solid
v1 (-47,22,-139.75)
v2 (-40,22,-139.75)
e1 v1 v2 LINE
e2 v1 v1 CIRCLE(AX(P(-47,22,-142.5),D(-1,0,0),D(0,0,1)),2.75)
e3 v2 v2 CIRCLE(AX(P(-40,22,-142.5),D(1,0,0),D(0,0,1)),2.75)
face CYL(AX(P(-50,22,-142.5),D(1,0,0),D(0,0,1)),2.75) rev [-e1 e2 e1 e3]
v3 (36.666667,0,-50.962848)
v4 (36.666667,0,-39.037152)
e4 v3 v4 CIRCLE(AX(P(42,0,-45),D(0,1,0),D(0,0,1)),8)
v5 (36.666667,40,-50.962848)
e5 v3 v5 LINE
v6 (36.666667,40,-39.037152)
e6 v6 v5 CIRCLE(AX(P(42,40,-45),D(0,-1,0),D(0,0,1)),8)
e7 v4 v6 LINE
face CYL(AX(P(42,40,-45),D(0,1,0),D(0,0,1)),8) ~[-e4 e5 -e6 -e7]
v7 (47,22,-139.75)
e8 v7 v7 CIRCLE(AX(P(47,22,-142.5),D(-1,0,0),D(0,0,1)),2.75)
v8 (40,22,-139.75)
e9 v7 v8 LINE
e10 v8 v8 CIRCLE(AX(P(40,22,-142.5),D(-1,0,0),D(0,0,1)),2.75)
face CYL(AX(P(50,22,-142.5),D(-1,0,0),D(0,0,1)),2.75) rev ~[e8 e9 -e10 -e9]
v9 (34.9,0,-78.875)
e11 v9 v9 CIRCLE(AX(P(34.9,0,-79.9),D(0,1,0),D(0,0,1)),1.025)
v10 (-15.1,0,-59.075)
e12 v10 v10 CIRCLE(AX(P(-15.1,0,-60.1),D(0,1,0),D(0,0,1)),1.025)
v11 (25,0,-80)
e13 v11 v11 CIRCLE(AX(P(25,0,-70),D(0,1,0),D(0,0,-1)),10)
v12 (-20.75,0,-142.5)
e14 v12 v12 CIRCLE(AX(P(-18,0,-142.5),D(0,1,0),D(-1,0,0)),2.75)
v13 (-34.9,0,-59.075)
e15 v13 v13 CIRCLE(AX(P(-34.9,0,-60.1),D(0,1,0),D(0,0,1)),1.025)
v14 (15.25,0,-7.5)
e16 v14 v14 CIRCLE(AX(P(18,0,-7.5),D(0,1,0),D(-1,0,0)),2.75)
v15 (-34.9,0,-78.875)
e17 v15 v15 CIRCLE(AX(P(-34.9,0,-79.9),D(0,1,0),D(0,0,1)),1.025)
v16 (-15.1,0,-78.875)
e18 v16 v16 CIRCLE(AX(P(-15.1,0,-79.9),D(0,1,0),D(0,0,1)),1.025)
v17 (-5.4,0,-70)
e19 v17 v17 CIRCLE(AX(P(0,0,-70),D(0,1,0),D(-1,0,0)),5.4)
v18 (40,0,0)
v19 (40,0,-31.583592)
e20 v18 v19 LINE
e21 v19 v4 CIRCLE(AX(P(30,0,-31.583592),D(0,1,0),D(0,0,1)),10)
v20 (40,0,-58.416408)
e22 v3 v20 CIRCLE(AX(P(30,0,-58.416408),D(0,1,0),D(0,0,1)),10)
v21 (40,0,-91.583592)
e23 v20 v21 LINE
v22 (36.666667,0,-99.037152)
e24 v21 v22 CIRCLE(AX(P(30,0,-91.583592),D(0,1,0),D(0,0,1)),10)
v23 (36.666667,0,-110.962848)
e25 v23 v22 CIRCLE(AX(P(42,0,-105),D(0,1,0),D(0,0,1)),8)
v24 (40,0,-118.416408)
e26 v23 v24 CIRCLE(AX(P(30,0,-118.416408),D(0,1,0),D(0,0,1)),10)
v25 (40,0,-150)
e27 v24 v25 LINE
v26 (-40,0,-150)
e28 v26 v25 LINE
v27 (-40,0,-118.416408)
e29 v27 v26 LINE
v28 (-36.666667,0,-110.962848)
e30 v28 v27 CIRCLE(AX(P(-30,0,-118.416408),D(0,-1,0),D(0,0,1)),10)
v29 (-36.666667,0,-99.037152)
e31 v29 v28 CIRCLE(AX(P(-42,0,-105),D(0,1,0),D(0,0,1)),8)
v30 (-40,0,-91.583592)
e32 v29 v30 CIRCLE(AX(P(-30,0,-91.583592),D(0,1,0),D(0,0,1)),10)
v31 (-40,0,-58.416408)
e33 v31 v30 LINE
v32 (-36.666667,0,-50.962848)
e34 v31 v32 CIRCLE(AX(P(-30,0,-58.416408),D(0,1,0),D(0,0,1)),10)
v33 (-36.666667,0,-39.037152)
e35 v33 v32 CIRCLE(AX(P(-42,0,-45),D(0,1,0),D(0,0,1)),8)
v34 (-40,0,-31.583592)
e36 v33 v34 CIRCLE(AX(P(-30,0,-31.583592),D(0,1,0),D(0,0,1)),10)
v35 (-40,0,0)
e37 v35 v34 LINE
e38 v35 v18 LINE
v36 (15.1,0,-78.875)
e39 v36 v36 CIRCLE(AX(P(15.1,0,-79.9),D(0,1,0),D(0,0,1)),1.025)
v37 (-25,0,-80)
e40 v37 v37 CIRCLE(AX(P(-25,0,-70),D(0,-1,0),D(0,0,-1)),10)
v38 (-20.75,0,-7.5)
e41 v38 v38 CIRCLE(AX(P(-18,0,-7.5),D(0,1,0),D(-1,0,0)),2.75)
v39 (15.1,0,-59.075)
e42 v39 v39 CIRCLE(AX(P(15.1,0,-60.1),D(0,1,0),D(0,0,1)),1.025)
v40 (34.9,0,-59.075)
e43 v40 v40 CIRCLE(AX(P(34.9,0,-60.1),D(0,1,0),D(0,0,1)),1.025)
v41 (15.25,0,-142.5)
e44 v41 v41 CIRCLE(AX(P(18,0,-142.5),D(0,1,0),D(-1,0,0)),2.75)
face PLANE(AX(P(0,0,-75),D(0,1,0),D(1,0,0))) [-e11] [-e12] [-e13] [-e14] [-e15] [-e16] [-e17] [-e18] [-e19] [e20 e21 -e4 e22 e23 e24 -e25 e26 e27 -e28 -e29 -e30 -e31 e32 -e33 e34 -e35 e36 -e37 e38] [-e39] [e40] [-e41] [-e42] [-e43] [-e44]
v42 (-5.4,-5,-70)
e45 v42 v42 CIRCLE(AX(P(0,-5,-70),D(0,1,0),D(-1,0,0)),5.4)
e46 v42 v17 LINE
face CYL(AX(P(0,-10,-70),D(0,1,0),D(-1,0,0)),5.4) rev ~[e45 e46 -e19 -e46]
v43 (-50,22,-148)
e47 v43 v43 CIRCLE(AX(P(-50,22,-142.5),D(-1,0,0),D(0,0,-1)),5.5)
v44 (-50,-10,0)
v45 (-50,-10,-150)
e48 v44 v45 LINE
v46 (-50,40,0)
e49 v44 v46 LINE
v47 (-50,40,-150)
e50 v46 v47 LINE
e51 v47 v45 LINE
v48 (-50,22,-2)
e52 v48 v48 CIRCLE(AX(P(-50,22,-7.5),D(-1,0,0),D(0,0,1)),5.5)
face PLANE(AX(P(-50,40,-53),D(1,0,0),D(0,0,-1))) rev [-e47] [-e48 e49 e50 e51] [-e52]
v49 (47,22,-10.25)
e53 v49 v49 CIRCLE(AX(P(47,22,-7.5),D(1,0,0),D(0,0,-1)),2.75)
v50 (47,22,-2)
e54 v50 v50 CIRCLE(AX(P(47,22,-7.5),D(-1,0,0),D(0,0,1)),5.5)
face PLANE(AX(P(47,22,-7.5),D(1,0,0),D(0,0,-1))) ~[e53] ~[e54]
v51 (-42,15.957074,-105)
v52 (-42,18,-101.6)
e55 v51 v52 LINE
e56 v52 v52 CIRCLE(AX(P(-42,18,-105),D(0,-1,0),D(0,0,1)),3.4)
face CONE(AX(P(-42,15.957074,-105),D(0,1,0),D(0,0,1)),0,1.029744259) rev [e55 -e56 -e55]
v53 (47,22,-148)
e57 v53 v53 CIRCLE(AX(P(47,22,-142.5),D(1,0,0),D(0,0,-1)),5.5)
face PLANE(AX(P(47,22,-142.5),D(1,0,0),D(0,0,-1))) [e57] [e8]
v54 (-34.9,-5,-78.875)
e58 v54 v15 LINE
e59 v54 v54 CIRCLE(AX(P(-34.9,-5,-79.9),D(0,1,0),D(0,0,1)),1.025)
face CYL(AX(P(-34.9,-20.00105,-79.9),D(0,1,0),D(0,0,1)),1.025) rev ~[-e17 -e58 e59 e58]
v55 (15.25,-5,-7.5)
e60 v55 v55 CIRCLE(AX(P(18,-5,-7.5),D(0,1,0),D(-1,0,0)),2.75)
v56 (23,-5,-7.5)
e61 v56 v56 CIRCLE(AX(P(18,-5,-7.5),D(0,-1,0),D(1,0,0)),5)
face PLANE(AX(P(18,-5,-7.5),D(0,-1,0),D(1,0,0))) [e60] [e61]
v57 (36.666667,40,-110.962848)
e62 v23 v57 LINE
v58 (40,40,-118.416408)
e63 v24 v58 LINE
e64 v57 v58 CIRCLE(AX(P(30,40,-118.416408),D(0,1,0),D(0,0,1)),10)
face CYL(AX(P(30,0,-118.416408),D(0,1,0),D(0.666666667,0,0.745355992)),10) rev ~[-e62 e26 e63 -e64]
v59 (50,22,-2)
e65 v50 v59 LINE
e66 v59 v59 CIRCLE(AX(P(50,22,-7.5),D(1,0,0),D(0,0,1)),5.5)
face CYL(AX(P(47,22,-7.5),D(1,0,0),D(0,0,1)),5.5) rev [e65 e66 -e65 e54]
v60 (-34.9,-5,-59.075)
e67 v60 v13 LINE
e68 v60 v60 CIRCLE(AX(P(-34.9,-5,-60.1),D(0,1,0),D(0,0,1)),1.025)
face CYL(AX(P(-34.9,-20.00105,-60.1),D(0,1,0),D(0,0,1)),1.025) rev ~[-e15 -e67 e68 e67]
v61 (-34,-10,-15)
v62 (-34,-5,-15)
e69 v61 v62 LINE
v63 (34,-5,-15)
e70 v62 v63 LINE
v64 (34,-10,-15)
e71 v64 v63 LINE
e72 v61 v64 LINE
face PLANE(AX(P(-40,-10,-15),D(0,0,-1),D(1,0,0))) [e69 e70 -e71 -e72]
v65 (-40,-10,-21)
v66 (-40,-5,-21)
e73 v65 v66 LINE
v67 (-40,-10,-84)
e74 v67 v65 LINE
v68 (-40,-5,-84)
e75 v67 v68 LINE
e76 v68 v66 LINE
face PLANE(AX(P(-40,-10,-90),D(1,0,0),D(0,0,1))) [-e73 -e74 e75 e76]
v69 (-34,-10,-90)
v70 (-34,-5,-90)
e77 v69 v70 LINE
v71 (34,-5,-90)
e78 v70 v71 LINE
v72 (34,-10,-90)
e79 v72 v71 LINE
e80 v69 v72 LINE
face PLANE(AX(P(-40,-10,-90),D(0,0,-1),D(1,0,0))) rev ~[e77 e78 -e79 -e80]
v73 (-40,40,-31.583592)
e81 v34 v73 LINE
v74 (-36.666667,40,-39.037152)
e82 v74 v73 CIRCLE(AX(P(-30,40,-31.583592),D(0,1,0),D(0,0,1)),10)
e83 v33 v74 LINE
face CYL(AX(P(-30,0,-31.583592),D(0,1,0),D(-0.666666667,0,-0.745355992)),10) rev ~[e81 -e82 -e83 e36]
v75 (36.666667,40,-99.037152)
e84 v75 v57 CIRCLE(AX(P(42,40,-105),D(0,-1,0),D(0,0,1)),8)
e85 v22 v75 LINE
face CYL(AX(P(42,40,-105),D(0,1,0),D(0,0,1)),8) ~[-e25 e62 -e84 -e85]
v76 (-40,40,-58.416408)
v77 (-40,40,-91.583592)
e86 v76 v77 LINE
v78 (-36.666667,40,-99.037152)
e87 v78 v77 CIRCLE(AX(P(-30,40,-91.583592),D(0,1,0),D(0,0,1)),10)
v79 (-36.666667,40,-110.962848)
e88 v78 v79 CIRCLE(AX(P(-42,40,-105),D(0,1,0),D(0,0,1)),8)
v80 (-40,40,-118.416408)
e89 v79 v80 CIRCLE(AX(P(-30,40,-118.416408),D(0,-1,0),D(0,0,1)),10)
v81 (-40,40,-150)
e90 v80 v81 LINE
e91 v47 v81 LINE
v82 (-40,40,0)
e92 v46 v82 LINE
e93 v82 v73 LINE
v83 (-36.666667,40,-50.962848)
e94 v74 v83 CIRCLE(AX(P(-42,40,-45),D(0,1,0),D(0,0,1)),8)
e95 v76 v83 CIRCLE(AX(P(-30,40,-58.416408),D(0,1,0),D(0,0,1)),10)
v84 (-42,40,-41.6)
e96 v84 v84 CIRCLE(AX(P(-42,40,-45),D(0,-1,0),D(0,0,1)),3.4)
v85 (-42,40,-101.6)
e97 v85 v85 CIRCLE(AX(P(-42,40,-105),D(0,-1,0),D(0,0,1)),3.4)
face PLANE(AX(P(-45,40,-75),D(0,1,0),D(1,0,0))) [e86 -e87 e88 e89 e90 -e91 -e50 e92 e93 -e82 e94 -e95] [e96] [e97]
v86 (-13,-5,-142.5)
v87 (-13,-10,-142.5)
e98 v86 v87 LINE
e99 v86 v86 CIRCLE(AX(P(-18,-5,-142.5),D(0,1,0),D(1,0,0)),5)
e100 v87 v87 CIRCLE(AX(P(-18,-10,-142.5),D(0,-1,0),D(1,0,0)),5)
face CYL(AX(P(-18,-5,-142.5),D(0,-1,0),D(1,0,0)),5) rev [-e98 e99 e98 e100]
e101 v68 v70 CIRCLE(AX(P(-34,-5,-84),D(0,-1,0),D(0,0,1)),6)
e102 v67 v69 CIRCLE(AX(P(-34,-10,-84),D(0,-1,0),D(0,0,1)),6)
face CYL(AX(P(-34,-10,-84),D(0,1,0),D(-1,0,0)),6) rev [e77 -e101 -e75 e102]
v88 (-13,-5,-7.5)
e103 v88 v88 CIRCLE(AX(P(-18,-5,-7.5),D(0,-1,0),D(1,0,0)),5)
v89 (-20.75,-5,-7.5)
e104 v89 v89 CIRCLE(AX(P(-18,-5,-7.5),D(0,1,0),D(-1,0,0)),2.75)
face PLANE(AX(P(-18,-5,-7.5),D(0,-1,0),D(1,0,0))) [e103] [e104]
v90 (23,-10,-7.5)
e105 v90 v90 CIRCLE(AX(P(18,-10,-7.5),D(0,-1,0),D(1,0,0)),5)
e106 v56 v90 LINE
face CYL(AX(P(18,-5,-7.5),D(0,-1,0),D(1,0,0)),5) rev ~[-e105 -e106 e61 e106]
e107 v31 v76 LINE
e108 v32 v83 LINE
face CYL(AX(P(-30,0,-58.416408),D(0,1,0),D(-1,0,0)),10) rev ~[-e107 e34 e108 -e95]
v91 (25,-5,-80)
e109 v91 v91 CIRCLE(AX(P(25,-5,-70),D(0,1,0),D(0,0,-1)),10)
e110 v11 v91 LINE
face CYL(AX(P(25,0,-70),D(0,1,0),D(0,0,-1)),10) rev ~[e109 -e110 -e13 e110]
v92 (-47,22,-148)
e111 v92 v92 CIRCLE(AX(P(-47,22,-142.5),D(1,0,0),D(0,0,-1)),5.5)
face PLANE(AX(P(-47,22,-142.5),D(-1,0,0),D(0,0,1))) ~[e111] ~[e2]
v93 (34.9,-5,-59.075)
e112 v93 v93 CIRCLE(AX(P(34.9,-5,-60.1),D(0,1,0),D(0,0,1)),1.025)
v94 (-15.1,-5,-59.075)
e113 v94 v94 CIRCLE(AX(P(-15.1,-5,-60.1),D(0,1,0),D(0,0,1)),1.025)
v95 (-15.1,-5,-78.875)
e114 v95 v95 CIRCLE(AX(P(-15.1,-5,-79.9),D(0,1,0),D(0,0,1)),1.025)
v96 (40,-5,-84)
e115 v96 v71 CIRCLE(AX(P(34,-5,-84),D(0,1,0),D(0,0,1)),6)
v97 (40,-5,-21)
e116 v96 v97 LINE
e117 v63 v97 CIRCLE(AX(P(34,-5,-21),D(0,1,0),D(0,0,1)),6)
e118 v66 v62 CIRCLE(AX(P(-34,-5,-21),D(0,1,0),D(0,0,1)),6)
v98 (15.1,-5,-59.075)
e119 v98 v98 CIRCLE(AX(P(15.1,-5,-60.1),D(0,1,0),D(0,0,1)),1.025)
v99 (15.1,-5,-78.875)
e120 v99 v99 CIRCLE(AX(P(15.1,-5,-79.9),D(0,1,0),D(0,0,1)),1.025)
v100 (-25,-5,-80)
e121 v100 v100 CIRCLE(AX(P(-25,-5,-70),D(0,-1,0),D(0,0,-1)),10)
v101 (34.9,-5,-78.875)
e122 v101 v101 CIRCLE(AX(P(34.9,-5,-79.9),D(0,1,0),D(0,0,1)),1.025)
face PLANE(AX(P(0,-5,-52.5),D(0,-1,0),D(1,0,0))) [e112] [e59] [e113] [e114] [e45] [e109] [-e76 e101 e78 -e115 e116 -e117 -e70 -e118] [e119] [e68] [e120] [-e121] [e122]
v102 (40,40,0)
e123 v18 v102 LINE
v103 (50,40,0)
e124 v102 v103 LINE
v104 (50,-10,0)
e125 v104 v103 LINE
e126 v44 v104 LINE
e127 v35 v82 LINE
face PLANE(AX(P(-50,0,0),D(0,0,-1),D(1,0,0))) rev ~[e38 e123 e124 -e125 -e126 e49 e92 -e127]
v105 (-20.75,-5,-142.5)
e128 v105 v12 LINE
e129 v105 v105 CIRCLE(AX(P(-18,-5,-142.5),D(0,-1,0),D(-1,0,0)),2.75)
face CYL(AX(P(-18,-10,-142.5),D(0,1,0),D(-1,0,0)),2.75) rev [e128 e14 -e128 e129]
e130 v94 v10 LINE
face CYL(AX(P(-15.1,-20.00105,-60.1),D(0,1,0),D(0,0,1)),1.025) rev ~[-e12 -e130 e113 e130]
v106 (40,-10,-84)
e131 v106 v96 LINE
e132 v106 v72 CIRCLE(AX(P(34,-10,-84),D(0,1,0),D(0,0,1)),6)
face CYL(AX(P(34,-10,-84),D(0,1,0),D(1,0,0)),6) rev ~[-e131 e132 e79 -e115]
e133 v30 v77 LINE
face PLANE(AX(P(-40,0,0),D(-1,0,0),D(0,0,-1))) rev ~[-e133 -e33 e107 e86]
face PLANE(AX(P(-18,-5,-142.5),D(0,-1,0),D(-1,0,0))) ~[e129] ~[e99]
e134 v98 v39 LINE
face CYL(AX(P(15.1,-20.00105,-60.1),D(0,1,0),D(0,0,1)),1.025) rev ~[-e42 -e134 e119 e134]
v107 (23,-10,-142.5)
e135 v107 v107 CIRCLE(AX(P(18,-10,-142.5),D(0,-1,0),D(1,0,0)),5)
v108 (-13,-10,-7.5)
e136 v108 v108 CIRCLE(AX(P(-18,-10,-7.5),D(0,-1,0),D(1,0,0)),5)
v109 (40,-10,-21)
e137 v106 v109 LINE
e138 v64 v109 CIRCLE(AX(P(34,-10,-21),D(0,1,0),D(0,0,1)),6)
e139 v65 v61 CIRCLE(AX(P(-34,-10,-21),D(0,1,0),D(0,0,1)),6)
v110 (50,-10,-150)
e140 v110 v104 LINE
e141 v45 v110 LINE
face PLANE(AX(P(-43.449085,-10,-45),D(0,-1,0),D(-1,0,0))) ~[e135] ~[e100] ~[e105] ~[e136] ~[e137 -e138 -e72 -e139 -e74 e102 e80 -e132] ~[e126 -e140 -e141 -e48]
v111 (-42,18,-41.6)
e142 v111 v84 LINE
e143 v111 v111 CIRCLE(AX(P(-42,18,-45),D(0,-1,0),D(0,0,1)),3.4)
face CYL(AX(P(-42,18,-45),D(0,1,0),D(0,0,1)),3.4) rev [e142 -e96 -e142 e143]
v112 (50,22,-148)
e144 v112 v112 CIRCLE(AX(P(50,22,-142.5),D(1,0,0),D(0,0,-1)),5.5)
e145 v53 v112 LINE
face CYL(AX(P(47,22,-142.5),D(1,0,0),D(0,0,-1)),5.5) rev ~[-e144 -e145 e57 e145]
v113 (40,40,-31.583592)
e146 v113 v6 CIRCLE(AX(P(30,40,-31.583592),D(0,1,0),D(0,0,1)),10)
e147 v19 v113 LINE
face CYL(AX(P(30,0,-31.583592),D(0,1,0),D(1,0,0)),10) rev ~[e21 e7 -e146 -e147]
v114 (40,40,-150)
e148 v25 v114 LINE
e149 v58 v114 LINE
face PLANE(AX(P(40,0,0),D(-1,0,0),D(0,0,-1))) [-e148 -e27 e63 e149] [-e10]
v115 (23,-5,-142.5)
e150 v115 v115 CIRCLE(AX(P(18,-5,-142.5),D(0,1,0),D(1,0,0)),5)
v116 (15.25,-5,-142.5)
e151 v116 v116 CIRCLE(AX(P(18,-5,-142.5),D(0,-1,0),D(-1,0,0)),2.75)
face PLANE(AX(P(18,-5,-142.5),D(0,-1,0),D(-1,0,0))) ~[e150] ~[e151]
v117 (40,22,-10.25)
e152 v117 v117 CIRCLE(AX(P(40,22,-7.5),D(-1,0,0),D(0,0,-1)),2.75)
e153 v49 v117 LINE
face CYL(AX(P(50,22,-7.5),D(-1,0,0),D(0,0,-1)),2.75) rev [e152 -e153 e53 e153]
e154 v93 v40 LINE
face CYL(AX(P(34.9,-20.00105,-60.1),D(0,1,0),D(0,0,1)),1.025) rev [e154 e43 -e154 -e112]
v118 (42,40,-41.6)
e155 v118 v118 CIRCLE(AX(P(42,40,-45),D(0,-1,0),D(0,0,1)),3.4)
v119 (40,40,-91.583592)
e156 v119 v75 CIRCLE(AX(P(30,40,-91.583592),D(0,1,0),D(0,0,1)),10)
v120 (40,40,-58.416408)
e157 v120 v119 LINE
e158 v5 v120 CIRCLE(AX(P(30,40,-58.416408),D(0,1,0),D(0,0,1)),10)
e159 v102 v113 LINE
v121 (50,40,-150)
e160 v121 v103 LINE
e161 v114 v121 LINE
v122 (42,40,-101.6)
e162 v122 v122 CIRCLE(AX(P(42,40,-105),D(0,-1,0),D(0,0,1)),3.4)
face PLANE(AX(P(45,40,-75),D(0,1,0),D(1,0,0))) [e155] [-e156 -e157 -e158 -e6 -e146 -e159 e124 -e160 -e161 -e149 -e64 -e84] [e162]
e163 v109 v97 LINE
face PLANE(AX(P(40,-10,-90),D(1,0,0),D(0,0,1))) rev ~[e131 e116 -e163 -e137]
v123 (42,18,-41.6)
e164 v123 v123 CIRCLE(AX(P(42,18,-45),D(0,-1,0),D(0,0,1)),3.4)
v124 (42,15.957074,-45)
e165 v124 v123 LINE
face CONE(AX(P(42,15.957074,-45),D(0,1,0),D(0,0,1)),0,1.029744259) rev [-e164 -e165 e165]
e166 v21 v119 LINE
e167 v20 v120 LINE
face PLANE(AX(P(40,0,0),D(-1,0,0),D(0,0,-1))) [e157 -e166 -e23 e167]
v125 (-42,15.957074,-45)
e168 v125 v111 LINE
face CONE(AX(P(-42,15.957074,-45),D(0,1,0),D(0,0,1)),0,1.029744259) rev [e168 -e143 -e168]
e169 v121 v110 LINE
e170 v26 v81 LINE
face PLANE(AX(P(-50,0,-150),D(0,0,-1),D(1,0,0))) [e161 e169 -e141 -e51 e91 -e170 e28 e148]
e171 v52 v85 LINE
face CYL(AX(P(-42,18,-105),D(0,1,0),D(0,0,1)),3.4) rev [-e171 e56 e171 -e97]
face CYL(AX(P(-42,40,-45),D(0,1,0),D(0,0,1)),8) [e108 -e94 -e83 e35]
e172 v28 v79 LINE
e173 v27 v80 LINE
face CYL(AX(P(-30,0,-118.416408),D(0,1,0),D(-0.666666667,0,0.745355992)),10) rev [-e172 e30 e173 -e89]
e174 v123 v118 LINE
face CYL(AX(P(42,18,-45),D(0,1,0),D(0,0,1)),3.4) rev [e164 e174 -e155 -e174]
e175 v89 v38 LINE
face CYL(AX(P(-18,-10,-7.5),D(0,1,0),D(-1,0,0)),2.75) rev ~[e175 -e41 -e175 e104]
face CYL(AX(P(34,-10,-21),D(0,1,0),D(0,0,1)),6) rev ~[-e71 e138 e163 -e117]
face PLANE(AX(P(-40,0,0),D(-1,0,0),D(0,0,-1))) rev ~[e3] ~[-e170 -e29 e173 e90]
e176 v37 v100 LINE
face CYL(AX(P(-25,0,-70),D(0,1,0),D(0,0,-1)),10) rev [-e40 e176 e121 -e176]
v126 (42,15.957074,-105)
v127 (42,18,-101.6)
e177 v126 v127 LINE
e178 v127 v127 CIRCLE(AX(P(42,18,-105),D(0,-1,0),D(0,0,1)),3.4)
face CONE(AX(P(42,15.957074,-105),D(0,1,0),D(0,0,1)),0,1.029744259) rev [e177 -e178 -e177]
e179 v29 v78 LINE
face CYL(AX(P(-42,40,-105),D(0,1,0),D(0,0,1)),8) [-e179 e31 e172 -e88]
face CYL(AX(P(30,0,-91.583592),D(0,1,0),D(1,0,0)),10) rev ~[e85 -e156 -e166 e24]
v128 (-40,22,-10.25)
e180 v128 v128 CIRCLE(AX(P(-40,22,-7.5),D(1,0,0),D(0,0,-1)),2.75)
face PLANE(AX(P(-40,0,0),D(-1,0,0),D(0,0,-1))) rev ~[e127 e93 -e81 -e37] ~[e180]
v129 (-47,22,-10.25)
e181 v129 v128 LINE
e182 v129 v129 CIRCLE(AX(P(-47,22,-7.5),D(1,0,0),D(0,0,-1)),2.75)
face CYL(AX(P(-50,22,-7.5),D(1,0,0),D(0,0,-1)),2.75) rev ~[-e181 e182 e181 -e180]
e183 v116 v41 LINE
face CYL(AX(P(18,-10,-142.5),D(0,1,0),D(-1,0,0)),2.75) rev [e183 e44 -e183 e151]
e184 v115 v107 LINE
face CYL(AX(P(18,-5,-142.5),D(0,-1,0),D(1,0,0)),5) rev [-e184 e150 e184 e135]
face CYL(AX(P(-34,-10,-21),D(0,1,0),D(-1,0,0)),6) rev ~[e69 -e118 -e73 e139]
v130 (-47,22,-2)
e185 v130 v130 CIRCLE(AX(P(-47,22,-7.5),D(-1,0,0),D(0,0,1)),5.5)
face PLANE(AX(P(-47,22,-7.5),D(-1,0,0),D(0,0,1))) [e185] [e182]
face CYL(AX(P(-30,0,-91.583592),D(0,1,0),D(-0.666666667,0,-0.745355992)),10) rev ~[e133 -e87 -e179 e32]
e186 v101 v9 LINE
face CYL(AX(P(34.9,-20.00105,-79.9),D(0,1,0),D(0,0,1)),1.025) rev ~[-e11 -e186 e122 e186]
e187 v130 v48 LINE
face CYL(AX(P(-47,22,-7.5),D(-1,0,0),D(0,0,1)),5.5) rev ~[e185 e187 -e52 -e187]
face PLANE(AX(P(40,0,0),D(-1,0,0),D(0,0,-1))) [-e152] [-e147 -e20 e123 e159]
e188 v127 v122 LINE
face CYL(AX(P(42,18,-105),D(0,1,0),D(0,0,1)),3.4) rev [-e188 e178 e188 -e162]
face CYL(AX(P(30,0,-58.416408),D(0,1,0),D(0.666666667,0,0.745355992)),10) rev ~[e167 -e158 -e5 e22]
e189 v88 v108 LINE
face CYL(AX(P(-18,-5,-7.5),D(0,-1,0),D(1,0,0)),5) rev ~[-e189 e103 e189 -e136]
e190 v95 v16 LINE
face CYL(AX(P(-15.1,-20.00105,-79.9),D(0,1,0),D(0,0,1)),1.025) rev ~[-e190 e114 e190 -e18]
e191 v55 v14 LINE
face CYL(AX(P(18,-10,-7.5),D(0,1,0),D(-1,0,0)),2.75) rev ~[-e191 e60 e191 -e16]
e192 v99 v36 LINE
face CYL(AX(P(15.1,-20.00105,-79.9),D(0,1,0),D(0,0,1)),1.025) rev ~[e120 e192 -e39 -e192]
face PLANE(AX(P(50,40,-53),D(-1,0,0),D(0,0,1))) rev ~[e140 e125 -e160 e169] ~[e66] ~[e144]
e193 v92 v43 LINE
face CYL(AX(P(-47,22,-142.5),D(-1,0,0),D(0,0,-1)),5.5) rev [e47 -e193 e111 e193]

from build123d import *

# Parameters (mm, degrees)
SKETCH1_W                                           = 100
SKETCH1_H                                           = 150
EXTRUDE1_DEPTH                                      = 10
SKETCH2_W                                           = 10
SKETCH2_H                                           = 150
EXTRUDE2_DEPTH                                      = 40
EXTRUDE5_DEPTH                                      = 50
FILLET1_R                                           = 10
LPATTERN1_COUNT                                     = 2
LPATTERN1_PITCH                                     = 60
LPATTERN1_COUNT_DIR2                                = 2
LPATTERN1_PITCH_DIR2                                = 84
SKETCH16_W                                          = 80
SKETCH16_H                                          = 75
EXTRUDE8_DEPTH                                      = 5
FILLET2_R                                           = 6
M2_5_TAPPED_HOLE1_D                                 = 2.05
M2_5_TAPPED_HOLE1_DEPTH                             = 10.00105
EXTRUDE7_START                                      = -10
SKETCH14_R                                          = 10
EXTRUDE7_DEPTH                                      = 5
LPATTERN2_COUNT                                     = 2
LPATTERN2_PITCH                                     = 19.8
LPATTERN2_COUNT_DIR2                                = 2
LPATTERN2_PITCH_DIR2                                = 19.8
MIRROR4_COPY_1_D                                    = 2.05
MIRROR4_COPY_1_DEPTH                                = 10.00105
MIRROR4_COPY_2_D                                    = 2.05
MIRROR4_COPY_2_DEPTH                                = 10.00105
MIRROR4_COPY_3_D                                    = 2.05
MIRROR4_COPY_3_DEPTH                                = 10.00105
F_10_8_10_8_DIAMETER_HOLE1_D                        = 10.8
F_10_8_10_8_DIAMETER_HOLE1_DEPTH                    = 5
CBORE_FOR_M5_HEX_SOCKET_HEAD_CAP_SCREW1_D           = 5.5
CBORE_FOR_M5_HEX_SOCKET_HEAD_CAP_SCREW1_DEPTH       = 10.001
CBORE_FOR_M5_HEX_SOCKET_HEAD_CAP_SCREW1_CBORE_D     = 11
CBORE_FOR_M5_HEX_SOCKET_HEAD_CAP_SCREW1_CBORE_DEPTH = 3
CBORE_FOR_M5_HEX_SOCKET_HEAD_CAP_SCREW2_D           = 5.5
CBORE_FOR_M5_HEX_SOCKET_HEAD_CAP_SCREW2_DEPTH       = 10.00105
CBORE_FOR_M5_HEX_SOCKET_HEAD_CAP_SCREW2_CBORE_D     = 10
CBORE_FOR_M5_HEX_SOCKET_HEAD_CAP_SCREW2_CBORE_DEPTH = 5
MIRROR6_COPY_1_D                                    = 5.5
MIRROR6_COPY_1_DEPTH                                = 10.001
MIRROR6_COPY_1_CBORE_D                              = 11
MIRROR6_COPY_1_CBORE_DEPTH                          = 3


with BuildPart() as part:
    # Sketch1 → Extrude1 (new body)
    with BuildSketch(Plane(origin=(0, 0, 0), x_dir=(1, 0, 0), z_dir=(0, 1, 0))):
        with Locations((0, 75)):
            Rectangle(SKETCH1_W, SKETCH1_H)
    extrude(amount=-EXTRUDE1_DEPTH)

    # Sketch2 → Extrude2 (add)
    with BuildSketch(Plane(origin=(0, 0, 0), x_dir=(1, 0, 0), z_dir=(0, 1, 0))):
        with Locations((-45, 75)):
            Rectangle(SKETCH2_W, SKETCH2_H)
        with Locations((45, 75)):
            Rectangle(SKETCH2_W, SKETCH2_H)
    extrude(amount=EXTRUDE2_DEPTH)

    # Sketch6 → Extrude5 (add)
    with BuildSketch(Plane(origin=(0, 40, 0), x_dir=(1, 0, 0), z_dir=(0, 1, 0))):
        with BuildLine():
            Line((42, 53), (50, 53))
            Line((50, 53), (50, 37))
            Line((50, 37), (42, 37))
            ThreePointArc((42, 37), (34, 45), (42, 53))
        make_face()
        with BuildLine():
            Line((42, 113), (50, 113))
            Line((50, 113), (50, 97))
            Line((50, 97), (42, 97))
            ThreePointArc((42, 97), (34, 105), (42, 113))
        make_face()
    extrude5 = extrude(amount=-EXTRUDE5_DEPTH)

    # Mirror2: Extrude5 across plane
    add(extrude5.mirror(Plane(origin=(0, 0, 0), x_dir=(0, 0, 1), z_dir=(1, 0, 0))))

    # Fillet1
    fillet1_edges = [part.edges().sort_by_distance(p)[0] for p in [
        (40, 20, -112.745966692),
        (40, 20, -97.254033308),
        (40, 20, -52.745966692),
        (40, 20, -37.254033308),
        (-40, 20, -97.254033308),
        (-40, 20, -112.745966692),
        (-40, 20, -37.254033308),
        (-40, 20, -52.745966692),
    ]]
    fillet(fillet1_edges, radius=FILLET1_R)

    # Sketch12 → M8 Tapped Hole1 (revolve, cut)
    with BuildSketch(Plane(origin=(42, 40, -45), x_dir=(0, 0, 1), z_dir=(1, 0, 0))):
        Polygon((0, 0), (0, 24.042926105), (3.4, 22), (3.4, 0), align=None)
    m8_tapped_hole1 = revolve(axis=Axis((42, 46.35, -45), (0, -1, 0)), mode=Mode.SUBTRACT)

    # LPattern1: M8 Tapped Hole1 2 × 2
    with Locations(*[(-j * LPATTERN1_PITCH_DIR2, 0, -i * LPATTERN1_PITCH) for i in range(LPATTERN1_COUNT) for j in range(LPATTERN1_COUNT_DIR2) if (i, j) != (0, 0)]):
        add(m8_tapped_hole1, mode=Mode.SUBTRACT)

    # Sketch16 → Extrude8 (cut)
    with BuildSketch(Plane.XZ.offset(10)):
        with Locations((0, -52.5)):
            Rectangle(SKETCH16_W, SKETCH16_H)
    extrude(amount=-EXTRUDE8_DEPTH, mode=Mode.SUBTRACT)

    # Fillet2
    fillet2_edges = [part.edges().sort_by_distance(p)[0] for p in [
        (-40, -7.5, -90),
        (-40, -7.5, -15),
        (40, -7.5, -15),
        (40, -7.5, -90),
    ]]
    fillet(fillet2_edges, radius=FILLET2_R)

    # M2.5 Tapped Hole1
    with Locations(Plane(origin=(-34.9, -10, -60.1), x_dir=(0, 0, -1), z_dir=(0, -1, 0))):
        with Locations((0, 0)):
            m2_5_tapped_hole1 = Hole(M2_5_TAPPED_HOLE1_D / 2, depth=M2_5_TAPPED_HOLE1_DEPTH)

    # Sketch14 → Extrude7 (cut)
    with BuildSketch(Plane.XZ.offset(10).offset(EXTRUDE7_START)):
        with Locations(Location((-25, -70, 0), (0, 0, 270))):  # turned: the seam where the file's is
            Circle(SKETCH14_R)
    extrude7 = extrude(amount=EXTRUDE7_DEPTH, mode=Mode.SUBTRACT)

    # LPattern2: M2.5 Tapped Hole1 2 × 2
    with Locations(*[(i * LPATTERN2_PITCH, 0, -j * LPATTERN2_PITCH_DIR2) for i in range(LPATTERN2_COUNT) for j in range(LPATTERN2_COUNT_DIR2) if (i, j) != (0, 0)]):
        add(m2_5_tapped_hole1, mode=Mode.SUBTRACT)

    # Mirror4: Extrude7, M2.5 Tapped Hole1 across plane
    add(extrude7.mirror(Plane(origin=(0, 0, 0), x_dir=(0, 0, 1), z_dir=(1, 0, 0))), mode=Mode.SUBTRACT)
    add(m2_5_tapped_hole1.mirror(Plane(origin=(0, 0, 0), x_dir=(0, 0, 1), z_dir=(1, 0, 0))), mode=Mode.SUBTRACT)

    # Mirror4 copy 1
    with Locations(Plane(origin=(34.9, -10, -79.9), x_dir=(0, 0, -1), z_dir=(0, -1, 0))):
        with Locations((0, 0)):
            Hole(MIRROR4_COPY_1_D / 2, depth=MIRROR4_COPY_1_DEPTH)

    # Mirror4 copy 2
    with Locations(Plane(origin=(15.1, -10, -60.1), x_dir=(0, 0, -1), z_dir=(0, -1, 0))):
        with Locations((0, 0)):
            Hole(MIRROR4_COPY_2_D / 2, depth=MIRROR4_COPY_2_DEPTH)

    # Mirror4 copy 3
    with Locations(Plane(origin=(15.1, -10, -79.9), x_dir=(0, 0, -1), z_dir=(0, -1, 0))):
        with Locations((0, 0)):
            Hole(MIRROR4_COPY_3_D / 2, depth=MIRROR4_COPY_3_DEPTH)

    # Ø10.8 (10.8) Diameter Hole1
    with Locations(Plane.XZ.offset(5)):
        with Locations((0, -70)):
            Hole(F_10_8_10_8_DIAMETER_HOLE1_D / 2, depth=F_10_8_10_8_DIAMETER_HOLE1_DEPTH)

    # CBORE for M5 Hex Socket Head Cap Screw1
    with Locations(Plane.ZY.offset(50)):
        with Locations((-7.5, 22)):
            cbore_for_m5_hex_socket_head_cap_screw1 = CounterBoreHole(CBORE_FOR_M5_HEX_SOCKET_HEAD_CAP_SCREW1_D / 2, CBORE_FOR_M5_HEX_SOCKET_HEAD_CAP_SCREW1_CBORE_D / 2, CBORE_FOR_M5_HEX_SOCKET_HEAD_CAP_SCREW1_CBORE_DEPTH, depth=CBORE_FOR_M5_HEX_SOCKET_HEAD_CAP_SCREW1_DEPTH)

    # Mirror5: CBORE for M5 Hex Socket Head Cap Screw1 across plane
    add(cbore_for_m5_hex_socket_head_cap_screw1.mirror(Plane(origin=(0, 0, 0), x_dir=(0, 0, 1), z_dir=(1, 0, 0))), mode=Mode.SUBTRACT)

    # CBORE for M5 Hex Socket Head Cap Screw2
    with Locations(Plane.XZ.offset(10)):
        with Locations((-18, -7.5), (18, -7.5)):
            cbore_for_m5_hex_socket_head_cap_screw2 = CounterBoreHole(CBORE_FOR_M5_HEX_SOCKET_HEAD_CAP_SCREW2_D / 2, CBORE_FOR_M5_HEX_SOCKET_HEAD_CAP_SCREW2_CBORE_D / 2, CBORE_FOR_M5_HEX_SOCKET_HEAD_CAP_SCREW2_CBORE_DEPTH, depth=CBORE_FOR_M5_HEX_SOCKET_HEAD_CAP_SCREW2_DEPTH)

    # Mirror6: CBORE for M5 Hex Socket Head Cap Screw2, CBORE for M5 Hex Socket Head Cap Screw1 across plane
    add(cbore_for_m5_hex_socket_head_cap_screw2.mirror(Plane.XY.offset(-75)), mode=Mode.SUBTRACT)
    add(cbore_for_m5_hex_socket_head_cap_screw1.mirror(Plane.XY.offset(-75)), mode=Mode.SUBTRACT)

    # Mirror6 copy 1
    with Locations(Plane(origin=(50, 0, -150), x_dir=(0, 0, -1), z_dir=(1, 0, 0))):
        with Locations((-7.5, 22)):
            CounterBoreHole(MIRROR6_COPY_1_D / 2, MIRROR6_COPY_1_CBORE_D / 2, MIRROR6_COPY_1_CBORE_DEPTH, depth=MIRROR6_COPY_1_DEPTH)


solid = part.part
